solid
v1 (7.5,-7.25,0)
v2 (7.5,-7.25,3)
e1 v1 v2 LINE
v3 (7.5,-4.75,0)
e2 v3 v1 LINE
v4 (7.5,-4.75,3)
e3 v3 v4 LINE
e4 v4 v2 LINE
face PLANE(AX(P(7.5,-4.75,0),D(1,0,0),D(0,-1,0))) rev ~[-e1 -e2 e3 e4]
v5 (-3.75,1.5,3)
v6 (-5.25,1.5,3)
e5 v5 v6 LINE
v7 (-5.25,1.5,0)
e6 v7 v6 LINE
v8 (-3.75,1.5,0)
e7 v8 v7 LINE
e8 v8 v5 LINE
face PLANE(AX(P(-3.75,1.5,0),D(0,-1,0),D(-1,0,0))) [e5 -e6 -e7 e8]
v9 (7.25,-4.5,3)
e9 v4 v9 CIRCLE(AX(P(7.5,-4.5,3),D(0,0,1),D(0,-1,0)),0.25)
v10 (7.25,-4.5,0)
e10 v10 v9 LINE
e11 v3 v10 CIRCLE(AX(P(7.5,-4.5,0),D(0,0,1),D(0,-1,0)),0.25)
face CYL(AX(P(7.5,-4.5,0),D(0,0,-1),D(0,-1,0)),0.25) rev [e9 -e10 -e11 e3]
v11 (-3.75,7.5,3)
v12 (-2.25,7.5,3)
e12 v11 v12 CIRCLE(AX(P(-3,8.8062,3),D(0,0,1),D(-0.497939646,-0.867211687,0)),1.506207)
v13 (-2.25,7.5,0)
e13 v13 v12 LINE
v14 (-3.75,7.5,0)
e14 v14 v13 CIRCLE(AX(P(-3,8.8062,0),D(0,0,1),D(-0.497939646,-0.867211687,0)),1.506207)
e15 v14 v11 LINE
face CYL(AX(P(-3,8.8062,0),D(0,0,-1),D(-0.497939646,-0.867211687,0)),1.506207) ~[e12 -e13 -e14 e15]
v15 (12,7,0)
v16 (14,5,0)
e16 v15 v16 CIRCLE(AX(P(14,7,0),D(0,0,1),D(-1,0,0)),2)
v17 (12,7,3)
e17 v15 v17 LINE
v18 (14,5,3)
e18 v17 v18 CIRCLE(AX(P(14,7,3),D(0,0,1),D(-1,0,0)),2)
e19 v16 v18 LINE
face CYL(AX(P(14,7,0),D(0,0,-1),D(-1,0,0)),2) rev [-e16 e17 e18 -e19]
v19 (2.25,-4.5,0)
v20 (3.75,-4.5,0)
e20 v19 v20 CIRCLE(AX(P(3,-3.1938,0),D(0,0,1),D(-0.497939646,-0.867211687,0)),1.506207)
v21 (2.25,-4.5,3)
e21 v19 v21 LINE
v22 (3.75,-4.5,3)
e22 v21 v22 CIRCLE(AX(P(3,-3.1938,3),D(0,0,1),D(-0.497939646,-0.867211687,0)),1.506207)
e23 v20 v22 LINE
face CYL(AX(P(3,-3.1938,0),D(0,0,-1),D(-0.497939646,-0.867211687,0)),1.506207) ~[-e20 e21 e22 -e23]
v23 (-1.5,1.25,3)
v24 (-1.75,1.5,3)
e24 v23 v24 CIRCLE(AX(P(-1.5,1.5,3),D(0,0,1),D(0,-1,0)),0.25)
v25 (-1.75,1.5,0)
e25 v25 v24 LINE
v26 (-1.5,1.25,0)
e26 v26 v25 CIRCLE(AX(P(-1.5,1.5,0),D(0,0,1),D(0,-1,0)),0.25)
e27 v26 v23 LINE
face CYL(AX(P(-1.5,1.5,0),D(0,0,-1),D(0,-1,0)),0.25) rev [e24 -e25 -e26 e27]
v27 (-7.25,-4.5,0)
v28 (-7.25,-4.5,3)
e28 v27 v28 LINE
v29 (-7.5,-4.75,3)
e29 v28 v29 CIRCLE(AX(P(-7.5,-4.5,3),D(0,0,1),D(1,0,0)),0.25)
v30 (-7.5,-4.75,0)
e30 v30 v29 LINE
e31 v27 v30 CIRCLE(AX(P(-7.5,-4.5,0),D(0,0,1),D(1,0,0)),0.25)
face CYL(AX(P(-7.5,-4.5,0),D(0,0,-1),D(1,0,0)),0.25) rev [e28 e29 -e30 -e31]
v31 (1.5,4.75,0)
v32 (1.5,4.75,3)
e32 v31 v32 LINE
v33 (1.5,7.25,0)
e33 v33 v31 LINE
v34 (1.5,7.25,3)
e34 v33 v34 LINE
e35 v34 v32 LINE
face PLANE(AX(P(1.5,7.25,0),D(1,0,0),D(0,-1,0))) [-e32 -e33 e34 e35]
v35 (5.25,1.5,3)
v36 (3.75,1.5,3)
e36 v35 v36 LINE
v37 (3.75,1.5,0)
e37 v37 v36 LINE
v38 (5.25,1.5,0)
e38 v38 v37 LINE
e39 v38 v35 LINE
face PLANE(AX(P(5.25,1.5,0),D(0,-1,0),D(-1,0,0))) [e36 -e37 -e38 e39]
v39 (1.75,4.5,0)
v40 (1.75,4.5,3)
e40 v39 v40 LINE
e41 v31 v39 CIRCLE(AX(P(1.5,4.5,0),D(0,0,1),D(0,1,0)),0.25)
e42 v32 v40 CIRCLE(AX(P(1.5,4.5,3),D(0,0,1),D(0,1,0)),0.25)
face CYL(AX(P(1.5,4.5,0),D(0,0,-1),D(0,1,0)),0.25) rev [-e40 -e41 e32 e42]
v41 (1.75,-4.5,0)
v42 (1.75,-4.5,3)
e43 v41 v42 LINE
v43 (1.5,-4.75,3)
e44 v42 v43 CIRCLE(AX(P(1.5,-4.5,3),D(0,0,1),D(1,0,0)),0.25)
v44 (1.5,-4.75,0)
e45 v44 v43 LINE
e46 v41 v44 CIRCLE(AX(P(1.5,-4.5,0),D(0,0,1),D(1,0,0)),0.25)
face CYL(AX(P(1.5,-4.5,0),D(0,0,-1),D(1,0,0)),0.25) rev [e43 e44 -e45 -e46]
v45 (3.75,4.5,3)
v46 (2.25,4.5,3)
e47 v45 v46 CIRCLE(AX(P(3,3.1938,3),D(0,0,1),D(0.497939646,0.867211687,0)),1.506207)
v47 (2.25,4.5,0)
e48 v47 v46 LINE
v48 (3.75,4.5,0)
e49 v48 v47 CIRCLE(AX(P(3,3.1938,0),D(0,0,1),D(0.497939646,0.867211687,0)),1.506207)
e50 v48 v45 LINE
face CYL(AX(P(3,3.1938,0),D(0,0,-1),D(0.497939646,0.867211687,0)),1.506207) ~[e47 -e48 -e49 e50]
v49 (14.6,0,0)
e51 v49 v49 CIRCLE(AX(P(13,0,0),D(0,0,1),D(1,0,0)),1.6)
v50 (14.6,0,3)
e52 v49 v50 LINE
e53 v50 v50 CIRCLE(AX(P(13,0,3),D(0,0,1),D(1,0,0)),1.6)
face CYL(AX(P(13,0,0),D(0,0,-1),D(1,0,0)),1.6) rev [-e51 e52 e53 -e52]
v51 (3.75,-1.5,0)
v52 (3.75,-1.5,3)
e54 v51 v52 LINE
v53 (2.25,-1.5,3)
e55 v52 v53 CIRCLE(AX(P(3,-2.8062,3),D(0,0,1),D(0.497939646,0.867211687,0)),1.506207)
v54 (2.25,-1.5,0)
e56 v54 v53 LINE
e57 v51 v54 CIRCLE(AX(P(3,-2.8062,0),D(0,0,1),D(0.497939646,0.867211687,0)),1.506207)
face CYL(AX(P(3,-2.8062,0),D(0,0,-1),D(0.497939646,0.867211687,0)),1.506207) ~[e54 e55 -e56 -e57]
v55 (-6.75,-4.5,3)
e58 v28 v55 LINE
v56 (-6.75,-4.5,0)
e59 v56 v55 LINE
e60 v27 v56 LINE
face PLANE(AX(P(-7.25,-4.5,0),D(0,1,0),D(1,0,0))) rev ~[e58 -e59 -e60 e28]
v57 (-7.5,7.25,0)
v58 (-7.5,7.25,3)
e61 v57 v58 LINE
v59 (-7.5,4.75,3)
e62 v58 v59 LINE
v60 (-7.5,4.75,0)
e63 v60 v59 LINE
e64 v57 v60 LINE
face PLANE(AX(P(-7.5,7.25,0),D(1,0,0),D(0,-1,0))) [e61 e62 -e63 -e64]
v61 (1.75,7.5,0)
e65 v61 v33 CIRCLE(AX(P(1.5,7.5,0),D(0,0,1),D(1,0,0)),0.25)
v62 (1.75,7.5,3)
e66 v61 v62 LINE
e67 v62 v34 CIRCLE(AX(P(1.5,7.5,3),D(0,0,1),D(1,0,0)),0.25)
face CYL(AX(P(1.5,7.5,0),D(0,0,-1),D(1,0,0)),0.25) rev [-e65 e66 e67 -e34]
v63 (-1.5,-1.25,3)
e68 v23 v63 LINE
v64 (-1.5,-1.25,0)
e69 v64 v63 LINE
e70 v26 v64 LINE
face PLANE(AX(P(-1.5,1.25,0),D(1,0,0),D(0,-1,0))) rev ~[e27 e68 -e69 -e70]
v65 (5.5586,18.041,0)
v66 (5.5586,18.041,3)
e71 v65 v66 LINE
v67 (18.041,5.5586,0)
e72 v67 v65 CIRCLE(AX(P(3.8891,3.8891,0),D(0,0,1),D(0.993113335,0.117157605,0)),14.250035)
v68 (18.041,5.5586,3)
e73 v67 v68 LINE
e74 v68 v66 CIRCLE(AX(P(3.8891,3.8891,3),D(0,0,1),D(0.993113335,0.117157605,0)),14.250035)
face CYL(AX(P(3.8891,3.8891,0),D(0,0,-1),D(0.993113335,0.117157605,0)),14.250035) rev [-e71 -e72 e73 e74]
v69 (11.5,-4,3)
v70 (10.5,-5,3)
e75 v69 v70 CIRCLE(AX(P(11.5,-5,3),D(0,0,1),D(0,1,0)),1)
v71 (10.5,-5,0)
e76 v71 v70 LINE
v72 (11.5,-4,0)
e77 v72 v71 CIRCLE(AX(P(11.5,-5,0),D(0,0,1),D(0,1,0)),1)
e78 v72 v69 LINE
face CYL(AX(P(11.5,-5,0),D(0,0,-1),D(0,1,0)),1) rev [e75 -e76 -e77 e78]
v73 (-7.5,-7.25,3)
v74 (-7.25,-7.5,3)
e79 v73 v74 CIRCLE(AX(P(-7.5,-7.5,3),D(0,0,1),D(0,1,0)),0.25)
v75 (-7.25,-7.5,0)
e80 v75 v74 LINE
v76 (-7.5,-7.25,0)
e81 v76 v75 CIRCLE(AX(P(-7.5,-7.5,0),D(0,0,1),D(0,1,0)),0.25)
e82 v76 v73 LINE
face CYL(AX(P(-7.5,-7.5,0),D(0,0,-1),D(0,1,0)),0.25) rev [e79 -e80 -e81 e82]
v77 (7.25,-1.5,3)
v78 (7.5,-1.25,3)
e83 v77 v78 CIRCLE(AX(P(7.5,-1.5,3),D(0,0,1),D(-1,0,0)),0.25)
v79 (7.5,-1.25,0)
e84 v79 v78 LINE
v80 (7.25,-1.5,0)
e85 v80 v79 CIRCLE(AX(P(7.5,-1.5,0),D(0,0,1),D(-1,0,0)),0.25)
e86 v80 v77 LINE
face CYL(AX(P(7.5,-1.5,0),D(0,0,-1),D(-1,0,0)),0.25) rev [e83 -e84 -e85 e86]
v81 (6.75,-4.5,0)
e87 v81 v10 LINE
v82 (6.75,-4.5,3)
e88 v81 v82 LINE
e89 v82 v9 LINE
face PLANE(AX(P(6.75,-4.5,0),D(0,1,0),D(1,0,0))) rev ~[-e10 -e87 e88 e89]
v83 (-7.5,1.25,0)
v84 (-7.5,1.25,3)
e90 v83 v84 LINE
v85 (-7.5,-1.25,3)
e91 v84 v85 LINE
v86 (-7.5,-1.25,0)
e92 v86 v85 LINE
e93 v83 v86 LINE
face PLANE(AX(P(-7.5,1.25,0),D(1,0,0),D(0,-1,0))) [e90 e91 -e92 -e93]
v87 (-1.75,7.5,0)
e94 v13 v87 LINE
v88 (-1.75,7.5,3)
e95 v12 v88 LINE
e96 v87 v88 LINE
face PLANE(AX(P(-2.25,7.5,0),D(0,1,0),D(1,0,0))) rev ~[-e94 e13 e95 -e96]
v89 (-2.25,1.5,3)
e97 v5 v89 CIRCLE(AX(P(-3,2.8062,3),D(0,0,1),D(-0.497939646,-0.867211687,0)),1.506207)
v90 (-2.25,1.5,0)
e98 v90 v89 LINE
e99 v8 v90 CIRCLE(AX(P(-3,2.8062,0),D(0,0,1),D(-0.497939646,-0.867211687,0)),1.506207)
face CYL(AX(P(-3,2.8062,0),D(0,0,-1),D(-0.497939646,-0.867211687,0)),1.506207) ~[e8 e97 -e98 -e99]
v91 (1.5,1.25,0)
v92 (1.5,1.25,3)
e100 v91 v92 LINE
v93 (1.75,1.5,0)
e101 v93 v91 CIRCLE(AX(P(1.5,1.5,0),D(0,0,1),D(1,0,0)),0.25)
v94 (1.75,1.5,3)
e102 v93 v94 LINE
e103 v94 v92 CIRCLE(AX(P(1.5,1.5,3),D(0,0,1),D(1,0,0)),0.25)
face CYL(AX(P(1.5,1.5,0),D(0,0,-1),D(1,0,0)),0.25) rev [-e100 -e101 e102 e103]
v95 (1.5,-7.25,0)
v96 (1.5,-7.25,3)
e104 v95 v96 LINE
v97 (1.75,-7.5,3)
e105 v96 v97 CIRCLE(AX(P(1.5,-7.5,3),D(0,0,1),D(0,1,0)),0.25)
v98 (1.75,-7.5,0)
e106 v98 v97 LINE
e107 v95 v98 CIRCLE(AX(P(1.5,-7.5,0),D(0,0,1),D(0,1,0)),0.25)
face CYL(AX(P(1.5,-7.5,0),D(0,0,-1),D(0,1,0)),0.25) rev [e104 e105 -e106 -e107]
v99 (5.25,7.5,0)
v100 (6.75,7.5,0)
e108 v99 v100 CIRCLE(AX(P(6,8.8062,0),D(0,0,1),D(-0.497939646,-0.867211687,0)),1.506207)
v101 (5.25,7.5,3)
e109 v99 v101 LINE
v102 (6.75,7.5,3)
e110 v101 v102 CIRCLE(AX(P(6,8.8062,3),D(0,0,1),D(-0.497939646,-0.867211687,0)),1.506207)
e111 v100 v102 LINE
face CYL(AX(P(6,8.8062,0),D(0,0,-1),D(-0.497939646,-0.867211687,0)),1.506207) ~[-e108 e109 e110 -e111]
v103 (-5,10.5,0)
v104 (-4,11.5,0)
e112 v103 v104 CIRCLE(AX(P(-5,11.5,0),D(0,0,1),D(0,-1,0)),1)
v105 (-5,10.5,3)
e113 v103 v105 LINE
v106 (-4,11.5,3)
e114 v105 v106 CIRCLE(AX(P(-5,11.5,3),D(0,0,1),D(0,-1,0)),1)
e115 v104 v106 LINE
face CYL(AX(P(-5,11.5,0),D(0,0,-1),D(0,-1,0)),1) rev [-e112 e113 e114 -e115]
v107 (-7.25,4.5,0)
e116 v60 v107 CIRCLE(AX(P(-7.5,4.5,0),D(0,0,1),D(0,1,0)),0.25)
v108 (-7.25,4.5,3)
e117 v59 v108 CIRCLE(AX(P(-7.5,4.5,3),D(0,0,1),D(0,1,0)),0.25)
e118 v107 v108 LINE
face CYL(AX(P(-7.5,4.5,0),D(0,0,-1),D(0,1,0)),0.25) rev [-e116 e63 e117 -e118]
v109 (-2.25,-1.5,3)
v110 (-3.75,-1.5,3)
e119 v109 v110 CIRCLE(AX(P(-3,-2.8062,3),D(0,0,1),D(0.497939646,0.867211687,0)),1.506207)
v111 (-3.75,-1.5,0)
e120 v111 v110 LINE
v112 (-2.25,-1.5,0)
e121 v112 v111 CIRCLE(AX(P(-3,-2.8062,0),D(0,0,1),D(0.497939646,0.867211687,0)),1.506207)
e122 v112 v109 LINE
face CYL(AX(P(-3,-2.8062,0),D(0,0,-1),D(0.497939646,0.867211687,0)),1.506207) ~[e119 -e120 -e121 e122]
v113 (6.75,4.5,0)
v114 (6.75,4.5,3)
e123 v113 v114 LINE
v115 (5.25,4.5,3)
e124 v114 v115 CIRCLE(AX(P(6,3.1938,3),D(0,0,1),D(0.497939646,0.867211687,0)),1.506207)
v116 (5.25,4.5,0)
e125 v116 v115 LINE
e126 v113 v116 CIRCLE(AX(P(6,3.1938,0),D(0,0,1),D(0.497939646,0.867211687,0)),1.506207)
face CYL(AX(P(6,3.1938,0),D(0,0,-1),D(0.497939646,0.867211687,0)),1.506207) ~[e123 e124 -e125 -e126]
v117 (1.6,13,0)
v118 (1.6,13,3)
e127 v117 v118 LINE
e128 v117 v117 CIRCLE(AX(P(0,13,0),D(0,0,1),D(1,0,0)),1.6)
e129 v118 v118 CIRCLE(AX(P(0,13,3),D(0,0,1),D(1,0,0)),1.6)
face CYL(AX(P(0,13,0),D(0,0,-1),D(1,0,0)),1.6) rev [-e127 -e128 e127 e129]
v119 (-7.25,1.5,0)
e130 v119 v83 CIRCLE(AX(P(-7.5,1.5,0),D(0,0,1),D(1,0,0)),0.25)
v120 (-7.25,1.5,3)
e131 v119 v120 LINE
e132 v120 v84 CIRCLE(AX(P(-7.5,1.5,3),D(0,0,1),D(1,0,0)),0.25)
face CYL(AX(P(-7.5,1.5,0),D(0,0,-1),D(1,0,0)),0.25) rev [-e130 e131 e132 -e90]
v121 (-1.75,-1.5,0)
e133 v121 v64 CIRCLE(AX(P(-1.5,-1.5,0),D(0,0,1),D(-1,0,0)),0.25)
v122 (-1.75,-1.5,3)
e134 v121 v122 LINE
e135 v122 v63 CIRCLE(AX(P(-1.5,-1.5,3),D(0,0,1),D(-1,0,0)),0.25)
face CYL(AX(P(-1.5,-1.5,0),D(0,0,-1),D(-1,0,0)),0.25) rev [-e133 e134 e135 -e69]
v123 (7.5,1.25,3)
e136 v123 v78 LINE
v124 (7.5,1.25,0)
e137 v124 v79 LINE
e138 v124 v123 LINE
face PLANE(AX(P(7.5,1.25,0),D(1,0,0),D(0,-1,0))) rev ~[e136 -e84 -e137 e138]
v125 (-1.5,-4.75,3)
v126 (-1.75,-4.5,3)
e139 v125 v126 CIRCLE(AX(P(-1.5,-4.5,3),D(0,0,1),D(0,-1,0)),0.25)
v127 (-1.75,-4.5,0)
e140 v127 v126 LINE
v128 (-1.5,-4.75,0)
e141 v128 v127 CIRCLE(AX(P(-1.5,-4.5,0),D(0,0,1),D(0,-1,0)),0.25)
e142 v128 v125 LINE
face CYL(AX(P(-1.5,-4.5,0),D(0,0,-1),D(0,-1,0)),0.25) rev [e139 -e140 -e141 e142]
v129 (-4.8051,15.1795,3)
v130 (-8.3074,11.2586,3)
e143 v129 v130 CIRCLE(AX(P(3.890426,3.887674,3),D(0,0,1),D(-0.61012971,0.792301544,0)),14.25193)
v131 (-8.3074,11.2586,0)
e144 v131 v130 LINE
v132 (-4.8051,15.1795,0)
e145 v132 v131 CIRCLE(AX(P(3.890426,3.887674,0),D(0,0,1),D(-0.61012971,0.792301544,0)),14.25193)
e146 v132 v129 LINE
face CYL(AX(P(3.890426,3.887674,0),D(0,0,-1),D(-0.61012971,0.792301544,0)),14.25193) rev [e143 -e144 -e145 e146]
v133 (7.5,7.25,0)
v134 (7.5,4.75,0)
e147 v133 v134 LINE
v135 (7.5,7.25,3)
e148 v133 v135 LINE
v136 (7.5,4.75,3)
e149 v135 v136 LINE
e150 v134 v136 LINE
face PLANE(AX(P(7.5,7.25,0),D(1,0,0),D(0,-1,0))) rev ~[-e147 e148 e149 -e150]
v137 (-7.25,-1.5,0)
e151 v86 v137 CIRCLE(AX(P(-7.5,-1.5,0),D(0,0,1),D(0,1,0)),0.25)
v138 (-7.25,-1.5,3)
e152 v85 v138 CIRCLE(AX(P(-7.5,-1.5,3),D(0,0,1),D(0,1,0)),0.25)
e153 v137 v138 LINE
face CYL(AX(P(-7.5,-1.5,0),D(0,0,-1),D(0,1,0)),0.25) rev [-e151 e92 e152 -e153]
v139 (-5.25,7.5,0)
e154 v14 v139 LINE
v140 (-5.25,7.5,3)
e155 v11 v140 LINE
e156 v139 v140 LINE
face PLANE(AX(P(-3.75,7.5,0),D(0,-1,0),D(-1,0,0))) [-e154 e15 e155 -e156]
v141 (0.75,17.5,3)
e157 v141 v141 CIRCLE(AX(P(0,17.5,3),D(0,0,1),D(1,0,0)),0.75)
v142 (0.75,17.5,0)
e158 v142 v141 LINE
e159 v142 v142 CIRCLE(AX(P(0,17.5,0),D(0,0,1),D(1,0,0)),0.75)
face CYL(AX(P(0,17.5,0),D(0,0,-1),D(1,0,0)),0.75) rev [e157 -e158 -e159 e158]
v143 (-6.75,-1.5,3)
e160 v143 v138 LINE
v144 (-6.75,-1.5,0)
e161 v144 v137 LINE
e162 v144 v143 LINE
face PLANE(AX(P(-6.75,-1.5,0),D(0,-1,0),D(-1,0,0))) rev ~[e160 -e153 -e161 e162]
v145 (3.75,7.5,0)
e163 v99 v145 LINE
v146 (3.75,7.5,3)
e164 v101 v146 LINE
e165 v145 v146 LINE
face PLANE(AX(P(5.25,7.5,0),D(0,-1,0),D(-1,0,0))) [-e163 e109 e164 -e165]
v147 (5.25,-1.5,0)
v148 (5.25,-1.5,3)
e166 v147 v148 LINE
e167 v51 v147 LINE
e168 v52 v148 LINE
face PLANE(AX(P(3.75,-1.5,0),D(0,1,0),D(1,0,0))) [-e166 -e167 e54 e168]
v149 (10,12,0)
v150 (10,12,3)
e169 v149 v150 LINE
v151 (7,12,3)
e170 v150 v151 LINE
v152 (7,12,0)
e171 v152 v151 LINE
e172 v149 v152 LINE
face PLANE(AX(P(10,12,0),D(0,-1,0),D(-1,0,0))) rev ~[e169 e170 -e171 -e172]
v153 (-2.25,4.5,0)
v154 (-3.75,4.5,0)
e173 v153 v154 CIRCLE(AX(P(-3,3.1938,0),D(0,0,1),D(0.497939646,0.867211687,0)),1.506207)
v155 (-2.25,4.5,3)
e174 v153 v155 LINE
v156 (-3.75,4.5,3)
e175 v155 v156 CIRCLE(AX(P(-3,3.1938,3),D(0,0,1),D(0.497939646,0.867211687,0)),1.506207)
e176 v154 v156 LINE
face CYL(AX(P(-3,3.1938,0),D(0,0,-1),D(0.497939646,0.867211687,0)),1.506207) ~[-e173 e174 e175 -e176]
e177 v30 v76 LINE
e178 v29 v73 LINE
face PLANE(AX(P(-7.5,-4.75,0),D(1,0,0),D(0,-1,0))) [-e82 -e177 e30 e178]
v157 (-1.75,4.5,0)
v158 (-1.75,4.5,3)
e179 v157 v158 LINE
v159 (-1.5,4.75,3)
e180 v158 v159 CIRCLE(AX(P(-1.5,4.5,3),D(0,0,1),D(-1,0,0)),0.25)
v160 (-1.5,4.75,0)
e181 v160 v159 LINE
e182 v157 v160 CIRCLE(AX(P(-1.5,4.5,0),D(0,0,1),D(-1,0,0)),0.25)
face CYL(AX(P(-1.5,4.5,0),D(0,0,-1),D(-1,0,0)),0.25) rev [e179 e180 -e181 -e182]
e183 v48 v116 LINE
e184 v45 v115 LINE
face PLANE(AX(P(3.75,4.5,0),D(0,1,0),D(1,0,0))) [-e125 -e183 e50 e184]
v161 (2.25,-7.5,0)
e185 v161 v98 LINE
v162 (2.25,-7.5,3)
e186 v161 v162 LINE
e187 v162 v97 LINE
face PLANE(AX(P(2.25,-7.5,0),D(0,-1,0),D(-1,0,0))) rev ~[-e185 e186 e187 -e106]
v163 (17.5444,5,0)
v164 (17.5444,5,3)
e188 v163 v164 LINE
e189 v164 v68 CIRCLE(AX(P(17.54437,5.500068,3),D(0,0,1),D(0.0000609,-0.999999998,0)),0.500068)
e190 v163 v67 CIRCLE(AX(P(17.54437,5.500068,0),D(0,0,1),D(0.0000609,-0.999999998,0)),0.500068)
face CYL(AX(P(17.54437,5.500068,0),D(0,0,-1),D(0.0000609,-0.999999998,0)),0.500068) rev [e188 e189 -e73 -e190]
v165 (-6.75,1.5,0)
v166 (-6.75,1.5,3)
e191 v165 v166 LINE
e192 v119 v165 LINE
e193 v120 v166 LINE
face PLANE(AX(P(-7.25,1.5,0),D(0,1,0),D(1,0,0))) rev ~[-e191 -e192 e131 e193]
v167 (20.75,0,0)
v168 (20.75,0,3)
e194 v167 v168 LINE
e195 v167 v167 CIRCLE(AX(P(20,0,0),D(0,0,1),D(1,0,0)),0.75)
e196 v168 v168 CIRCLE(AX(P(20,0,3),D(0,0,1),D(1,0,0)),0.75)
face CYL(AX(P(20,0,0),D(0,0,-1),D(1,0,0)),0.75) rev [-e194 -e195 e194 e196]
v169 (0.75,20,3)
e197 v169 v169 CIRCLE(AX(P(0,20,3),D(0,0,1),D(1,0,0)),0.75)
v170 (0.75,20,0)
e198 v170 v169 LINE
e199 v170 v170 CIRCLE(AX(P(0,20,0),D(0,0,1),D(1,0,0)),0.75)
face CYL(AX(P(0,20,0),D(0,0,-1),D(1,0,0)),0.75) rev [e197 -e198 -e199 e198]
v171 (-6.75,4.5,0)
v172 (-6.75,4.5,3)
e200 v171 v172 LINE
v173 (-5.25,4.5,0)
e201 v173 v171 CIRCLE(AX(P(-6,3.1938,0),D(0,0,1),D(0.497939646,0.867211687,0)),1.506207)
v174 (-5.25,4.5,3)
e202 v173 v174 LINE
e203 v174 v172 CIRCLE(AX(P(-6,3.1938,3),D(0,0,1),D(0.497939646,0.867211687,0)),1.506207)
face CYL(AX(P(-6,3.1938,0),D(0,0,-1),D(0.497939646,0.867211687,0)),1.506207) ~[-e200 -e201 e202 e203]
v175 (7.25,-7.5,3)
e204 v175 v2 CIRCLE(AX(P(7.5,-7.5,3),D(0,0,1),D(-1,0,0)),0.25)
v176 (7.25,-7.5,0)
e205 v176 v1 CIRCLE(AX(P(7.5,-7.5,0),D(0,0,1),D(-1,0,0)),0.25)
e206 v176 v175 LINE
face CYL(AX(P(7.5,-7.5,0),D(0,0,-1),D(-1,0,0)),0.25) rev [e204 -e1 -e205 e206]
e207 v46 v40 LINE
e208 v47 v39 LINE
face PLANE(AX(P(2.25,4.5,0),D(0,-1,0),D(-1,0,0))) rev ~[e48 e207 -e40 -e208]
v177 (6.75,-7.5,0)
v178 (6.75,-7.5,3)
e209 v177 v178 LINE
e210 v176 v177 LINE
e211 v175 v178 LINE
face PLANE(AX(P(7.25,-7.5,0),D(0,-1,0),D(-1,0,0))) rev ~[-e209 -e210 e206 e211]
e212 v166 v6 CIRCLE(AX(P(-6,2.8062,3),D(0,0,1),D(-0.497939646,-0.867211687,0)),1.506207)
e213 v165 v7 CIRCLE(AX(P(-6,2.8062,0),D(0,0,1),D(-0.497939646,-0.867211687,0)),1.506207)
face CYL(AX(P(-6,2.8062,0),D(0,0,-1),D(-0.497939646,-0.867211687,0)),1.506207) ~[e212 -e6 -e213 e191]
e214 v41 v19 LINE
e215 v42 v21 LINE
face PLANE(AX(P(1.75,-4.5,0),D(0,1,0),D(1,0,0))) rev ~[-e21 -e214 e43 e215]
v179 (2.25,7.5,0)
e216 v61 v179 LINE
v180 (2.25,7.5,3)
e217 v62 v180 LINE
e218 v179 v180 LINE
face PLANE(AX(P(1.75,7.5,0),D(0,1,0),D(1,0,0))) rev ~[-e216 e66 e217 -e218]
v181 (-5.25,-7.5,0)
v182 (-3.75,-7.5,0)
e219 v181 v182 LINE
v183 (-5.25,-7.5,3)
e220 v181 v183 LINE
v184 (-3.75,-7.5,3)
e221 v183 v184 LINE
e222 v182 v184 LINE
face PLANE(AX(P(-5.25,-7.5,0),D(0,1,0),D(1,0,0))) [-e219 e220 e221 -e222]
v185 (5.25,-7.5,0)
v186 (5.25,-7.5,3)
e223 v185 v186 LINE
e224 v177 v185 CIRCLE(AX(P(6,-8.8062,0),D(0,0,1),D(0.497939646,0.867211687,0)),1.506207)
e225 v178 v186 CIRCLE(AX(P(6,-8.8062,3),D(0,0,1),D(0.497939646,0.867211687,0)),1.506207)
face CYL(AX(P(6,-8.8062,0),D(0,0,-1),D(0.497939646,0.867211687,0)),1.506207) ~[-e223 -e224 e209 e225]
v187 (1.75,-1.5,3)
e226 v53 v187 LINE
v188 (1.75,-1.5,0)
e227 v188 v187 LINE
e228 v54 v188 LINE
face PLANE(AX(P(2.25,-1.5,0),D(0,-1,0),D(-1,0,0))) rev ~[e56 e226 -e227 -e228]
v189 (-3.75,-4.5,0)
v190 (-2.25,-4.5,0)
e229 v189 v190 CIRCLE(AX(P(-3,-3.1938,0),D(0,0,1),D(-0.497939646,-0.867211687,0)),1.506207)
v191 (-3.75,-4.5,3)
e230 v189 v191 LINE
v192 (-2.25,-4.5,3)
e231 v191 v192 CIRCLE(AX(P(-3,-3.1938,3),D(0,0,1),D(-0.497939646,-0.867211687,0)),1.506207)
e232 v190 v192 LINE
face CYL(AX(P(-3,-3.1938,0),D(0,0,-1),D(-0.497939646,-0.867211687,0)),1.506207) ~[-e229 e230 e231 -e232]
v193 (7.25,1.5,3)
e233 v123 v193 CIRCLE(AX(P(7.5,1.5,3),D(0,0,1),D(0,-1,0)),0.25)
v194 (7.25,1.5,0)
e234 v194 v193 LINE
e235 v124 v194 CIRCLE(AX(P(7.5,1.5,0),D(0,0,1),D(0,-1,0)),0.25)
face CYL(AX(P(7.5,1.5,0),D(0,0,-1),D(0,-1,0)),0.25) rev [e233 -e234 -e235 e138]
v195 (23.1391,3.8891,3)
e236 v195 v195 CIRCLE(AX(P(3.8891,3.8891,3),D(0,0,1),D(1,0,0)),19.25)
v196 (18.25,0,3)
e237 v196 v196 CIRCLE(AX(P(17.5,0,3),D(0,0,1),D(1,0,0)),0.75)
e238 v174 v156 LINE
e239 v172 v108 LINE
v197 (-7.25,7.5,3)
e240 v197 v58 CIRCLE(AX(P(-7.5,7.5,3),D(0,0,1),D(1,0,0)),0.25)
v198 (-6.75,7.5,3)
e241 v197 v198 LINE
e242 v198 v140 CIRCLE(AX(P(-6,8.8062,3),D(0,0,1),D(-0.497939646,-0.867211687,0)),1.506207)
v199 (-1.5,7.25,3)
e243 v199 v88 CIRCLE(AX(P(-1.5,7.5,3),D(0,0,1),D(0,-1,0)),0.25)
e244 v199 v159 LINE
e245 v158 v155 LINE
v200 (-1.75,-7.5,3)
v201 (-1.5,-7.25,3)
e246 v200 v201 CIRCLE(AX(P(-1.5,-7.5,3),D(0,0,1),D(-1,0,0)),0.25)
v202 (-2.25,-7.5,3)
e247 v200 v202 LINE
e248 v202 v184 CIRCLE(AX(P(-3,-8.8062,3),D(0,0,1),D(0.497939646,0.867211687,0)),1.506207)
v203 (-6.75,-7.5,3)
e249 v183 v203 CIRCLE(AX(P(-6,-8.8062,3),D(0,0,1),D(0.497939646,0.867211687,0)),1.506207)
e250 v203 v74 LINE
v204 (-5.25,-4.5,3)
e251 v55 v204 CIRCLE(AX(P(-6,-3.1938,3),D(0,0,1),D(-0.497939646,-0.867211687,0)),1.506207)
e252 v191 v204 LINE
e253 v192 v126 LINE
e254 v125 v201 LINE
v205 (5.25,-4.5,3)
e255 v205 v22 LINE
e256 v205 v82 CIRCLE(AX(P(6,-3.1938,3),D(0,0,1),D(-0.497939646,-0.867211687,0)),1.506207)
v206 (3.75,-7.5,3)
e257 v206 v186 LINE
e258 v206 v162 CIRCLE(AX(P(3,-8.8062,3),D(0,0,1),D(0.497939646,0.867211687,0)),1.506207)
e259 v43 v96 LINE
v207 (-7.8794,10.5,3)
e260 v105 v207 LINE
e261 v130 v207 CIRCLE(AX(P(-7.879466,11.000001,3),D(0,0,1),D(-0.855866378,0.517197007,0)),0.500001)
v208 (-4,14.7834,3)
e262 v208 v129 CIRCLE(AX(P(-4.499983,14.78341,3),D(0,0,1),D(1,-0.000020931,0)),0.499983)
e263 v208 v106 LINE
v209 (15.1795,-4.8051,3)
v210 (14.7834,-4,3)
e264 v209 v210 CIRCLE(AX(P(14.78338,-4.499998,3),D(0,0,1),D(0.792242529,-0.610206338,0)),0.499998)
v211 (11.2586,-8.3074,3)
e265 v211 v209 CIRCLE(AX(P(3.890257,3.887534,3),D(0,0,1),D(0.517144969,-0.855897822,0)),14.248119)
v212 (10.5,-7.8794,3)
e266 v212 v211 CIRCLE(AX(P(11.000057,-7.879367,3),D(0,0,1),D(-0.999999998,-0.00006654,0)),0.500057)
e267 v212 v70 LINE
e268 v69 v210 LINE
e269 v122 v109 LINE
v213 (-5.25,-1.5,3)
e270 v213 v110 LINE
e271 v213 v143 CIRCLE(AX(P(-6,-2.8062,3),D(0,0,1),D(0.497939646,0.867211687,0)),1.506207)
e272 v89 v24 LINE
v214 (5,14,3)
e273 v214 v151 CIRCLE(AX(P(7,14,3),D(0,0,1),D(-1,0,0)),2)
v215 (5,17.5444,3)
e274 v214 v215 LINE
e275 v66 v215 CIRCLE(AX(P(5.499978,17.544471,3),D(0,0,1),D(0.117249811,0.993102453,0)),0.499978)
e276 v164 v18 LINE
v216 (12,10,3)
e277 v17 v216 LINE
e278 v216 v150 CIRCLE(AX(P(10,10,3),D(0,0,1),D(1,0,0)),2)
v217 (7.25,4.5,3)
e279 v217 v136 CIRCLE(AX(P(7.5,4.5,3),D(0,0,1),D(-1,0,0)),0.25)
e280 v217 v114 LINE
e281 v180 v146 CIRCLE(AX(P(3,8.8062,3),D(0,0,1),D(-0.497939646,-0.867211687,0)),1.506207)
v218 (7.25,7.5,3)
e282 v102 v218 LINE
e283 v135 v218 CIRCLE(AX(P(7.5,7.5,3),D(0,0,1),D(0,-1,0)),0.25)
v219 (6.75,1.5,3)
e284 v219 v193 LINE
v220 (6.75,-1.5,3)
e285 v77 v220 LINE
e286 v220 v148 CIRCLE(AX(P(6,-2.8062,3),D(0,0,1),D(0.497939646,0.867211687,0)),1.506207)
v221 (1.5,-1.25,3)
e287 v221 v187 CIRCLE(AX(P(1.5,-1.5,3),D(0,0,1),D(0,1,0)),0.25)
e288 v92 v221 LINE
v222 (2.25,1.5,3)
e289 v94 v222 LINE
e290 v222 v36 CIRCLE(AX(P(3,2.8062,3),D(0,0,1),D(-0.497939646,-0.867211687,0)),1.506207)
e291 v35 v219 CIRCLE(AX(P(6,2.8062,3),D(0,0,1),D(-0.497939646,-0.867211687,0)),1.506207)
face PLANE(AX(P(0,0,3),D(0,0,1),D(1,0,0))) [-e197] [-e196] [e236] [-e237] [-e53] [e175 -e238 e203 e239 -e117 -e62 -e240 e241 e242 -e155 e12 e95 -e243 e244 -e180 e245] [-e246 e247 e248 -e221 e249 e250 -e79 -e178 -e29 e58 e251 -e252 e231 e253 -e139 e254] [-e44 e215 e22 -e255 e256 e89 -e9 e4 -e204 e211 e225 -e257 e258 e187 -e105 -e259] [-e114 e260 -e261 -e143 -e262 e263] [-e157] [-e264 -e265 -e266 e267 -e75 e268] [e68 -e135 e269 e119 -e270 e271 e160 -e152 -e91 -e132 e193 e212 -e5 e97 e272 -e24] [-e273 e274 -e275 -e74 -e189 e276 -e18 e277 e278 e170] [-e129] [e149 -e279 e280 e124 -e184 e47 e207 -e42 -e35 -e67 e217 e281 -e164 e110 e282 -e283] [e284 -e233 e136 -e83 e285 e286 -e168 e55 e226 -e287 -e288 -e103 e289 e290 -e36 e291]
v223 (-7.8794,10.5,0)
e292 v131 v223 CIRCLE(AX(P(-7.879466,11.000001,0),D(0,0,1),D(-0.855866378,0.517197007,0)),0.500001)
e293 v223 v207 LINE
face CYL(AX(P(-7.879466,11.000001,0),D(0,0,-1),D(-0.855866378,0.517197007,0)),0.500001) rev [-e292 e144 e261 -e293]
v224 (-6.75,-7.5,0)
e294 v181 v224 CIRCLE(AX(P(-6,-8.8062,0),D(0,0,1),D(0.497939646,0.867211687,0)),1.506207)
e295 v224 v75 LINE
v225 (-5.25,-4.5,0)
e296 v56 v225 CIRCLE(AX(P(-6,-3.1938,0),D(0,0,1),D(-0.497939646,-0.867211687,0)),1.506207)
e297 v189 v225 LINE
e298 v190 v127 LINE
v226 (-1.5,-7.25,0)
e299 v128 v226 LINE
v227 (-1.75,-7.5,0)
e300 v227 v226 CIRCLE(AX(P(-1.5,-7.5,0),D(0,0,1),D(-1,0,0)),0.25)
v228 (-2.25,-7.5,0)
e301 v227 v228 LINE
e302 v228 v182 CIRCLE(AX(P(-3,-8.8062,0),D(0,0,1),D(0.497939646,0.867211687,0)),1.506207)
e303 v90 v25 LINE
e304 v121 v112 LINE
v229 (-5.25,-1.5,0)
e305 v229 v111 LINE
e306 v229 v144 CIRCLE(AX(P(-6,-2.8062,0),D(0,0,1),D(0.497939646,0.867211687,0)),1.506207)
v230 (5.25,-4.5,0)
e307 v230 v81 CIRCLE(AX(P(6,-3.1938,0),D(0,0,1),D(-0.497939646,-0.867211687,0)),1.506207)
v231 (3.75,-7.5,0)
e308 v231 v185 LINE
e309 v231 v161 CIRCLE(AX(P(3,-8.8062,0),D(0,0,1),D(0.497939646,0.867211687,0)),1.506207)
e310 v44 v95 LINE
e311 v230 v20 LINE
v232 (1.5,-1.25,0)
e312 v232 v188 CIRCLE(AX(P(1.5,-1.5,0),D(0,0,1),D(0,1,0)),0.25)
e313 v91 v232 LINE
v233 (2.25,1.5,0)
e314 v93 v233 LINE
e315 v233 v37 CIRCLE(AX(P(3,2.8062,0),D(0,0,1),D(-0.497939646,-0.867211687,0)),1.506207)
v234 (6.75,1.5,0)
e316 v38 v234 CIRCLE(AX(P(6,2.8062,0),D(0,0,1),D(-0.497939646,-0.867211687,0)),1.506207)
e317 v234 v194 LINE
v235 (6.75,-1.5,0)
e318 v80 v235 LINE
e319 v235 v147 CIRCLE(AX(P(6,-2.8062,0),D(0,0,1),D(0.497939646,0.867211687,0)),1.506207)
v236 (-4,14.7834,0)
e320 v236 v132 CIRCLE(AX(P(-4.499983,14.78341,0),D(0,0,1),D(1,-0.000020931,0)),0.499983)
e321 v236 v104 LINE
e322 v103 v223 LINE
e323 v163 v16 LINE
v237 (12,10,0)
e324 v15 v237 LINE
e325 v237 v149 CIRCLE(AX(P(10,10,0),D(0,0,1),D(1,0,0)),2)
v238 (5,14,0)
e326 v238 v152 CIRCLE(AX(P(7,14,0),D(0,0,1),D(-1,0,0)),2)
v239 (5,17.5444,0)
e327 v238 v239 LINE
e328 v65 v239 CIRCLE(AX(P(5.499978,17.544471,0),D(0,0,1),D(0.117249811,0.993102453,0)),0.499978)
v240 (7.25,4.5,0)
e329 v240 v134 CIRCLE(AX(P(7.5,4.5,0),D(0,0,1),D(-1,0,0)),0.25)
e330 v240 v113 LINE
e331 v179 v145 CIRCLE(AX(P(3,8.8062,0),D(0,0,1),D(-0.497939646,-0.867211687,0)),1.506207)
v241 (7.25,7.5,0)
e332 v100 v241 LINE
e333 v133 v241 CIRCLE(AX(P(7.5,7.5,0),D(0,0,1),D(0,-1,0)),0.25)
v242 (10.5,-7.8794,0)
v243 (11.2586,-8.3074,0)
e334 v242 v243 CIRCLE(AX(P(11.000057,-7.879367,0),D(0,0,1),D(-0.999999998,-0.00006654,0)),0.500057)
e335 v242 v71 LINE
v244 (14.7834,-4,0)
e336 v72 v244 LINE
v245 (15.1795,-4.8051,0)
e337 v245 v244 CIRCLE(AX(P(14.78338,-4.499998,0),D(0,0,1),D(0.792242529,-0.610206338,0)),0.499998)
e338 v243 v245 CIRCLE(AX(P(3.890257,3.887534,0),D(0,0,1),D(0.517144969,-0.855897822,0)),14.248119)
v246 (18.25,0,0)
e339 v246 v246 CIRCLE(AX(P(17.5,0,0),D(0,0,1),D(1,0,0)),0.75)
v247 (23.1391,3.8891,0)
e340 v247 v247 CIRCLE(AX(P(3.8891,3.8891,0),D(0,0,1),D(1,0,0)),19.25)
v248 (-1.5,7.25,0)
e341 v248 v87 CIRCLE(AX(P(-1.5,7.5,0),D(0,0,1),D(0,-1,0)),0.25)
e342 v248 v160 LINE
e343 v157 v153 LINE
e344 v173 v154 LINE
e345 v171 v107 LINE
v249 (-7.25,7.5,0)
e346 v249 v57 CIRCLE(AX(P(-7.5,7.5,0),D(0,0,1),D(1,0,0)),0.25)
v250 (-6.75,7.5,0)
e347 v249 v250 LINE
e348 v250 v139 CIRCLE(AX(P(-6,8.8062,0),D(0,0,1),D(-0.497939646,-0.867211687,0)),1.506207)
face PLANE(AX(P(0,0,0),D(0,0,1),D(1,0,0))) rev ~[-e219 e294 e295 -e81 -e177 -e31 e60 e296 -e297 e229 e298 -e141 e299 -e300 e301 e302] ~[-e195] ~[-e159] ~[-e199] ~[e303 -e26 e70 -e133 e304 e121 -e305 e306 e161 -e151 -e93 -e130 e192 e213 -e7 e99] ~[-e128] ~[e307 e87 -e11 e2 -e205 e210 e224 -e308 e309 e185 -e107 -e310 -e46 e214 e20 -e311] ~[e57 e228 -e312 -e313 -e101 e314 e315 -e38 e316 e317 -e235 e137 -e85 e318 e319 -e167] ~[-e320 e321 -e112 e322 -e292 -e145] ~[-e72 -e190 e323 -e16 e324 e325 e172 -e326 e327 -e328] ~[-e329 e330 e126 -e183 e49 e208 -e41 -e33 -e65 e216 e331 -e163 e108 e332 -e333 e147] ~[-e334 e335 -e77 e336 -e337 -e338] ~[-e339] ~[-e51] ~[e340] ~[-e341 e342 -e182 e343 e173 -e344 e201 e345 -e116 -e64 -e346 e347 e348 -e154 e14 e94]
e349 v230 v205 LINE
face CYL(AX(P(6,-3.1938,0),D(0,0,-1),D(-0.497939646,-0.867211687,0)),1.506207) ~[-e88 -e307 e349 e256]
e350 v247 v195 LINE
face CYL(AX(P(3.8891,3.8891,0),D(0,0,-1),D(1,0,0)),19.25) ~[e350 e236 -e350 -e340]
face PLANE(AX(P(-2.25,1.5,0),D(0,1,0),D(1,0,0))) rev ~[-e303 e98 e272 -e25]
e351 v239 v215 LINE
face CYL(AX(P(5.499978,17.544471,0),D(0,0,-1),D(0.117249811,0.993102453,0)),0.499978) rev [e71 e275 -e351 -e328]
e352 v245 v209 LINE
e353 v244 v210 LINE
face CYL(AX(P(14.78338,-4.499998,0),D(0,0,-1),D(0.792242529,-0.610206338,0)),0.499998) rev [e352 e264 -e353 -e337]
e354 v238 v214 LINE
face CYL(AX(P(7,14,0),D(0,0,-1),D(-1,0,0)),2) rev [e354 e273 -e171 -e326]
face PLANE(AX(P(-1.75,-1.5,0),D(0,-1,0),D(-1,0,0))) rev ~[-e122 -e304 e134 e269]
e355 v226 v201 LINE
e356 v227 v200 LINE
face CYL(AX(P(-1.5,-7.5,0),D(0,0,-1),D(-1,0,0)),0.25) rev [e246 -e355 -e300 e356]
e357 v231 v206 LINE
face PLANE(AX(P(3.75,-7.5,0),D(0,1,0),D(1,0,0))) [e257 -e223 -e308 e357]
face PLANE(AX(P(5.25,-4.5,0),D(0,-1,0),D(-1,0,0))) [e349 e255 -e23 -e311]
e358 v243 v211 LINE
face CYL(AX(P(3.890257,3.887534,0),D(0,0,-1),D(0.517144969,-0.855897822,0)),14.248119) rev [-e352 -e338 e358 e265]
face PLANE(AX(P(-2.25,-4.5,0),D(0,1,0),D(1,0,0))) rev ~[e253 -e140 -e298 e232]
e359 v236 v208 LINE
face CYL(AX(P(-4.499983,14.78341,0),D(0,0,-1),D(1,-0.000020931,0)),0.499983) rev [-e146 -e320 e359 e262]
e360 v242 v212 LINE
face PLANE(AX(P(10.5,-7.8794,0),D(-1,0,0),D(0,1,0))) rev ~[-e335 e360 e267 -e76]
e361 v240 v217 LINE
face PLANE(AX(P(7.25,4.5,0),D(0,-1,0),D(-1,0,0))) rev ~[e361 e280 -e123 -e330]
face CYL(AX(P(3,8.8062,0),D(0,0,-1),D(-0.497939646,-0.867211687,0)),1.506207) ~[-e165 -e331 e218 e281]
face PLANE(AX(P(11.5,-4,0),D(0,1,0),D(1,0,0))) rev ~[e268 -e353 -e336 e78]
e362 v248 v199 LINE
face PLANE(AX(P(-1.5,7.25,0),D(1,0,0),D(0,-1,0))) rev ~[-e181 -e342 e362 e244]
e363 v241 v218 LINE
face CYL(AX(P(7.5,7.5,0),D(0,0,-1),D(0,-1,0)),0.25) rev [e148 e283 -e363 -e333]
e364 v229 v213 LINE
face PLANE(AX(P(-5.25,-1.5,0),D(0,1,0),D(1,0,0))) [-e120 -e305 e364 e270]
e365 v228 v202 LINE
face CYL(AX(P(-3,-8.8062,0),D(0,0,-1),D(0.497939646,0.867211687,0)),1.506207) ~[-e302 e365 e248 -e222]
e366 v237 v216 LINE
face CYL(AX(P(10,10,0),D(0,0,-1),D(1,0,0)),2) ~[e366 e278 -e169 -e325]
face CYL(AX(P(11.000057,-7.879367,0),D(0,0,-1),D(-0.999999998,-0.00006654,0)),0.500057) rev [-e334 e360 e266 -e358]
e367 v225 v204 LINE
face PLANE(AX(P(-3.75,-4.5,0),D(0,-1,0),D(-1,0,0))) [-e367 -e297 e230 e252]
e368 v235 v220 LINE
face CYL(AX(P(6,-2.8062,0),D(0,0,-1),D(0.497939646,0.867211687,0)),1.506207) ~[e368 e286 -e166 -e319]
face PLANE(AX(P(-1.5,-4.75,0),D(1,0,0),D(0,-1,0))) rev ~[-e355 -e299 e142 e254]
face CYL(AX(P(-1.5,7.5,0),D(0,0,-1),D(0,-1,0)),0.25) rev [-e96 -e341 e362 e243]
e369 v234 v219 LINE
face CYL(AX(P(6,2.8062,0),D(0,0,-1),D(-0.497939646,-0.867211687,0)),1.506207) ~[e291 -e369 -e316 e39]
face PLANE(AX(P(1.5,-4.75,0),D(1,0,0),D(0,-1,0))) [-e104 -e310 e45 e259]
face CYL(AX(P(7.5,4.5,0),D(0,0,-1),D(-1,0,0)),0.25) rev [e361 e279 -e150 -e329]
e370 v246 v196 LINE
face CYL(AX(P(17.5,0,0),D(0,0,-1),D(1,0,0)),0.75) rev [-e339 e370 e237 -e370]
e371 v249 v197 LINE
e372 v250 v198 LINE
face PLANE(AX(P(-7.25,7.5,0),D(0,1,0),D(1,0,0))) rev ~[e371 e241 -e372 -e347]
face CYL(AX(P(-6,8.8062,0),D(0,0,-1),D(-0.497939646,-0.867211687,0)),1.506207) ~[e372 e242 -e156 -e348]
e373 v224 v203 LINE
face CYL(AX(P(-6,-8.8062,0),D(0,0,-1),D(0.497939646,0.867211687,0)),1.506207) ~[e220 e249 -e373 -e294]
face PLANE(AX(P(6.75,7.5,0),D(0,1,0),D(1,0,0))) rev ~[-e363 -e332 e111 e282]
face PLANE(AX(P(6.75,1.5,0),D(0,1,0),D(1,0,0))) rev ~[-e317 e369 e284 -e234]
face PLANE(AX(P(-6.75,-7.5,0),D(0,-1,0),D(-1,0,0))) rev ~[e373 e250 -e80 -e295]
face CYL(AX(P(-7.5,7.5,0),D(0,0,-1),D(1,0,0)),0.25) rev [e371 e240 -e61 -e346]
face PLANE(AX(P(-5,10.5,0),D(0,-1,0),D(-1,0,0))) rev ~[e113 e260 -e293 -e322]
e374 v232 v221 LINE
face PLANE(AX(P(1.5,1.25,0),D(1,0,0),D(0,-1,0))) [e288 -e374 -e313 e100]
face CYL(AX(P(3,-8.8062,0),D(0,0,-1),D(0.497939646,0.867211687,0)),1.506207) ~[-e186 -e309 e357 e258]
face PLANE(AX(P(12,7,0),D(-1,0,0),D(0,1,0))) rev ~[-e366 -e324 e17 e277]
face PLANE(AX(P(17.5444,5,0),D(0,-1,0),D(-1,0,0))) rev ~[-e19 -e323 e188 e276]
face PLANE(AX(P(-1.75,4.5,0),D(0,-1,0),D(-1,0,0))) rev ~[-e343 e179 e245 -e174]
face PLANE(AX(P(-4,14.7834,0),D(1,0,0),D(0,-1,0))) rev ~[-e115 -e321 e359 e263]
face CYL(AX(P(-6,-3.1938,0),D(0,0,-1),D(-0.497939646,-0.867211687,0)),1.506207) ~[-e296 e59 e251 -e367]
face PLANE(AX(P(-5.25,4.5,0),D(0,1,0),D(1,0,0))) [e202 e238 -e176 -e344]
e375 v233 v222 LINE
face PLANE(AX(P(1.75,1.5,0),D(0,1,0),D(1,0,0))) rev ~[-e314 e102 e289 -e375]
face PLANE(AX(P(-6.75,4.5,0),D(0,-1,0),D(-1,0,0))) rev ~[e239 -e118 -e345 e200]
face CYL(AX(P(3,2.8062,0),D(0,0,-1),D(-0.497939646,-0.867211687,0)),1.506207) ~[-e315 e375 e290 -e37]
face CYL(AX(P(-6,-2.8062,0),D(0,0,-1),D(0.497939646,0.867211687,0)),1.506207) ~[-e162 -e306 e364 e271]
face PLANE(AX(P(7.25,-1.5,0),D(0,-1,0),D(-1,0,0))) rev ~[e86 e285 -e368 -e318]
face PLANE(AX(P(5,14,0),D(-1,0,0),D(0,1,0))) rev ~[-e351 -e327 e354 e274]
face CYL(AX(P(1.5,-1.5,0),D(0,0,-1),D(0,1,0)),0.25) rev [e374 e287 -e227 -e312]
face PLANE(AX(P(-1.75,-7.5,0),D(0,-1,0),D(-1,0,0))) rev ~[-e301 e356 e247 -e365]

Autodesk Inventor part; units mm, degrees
ref_plane "YZ Plane" through (0, 0, 0) normal (1, 0, 0) x (0, 1, 0)
ref_plane "XZ Plane" through (0, 0, 0) normal (0, 1, 0) x (-1, 0, 0)
ref_plane "XY Plane" through (0, 0, 0) normal (0, 0, 1) x (1, 0, 0)
sketch "Sketch1" plane through (0, 0, 0) normal (0, 0, 1) x (1, 0, 0)
  circle A0 centre (0, 13) radius 1.6
  circle A1 centre (13, 0) radius 1.6
  circle A2 centre (0, 17.5) radius 0.75
  circle A3 centre (17.5, 0) radius 0.75
  circle A4 centre (20, 0) radius 0.75
  circle A5 centre (0, 20) radius 0.75
  arc A6 (-7.25, 7.5) -> (-7.5, 7.25) centre (-7.5, 7.5) ccw
  arc A7 (-6.75, 7.5) -> (-5.25, 7.5) centre (-6, 8.8062) ccw
  arc A8 (-1.5, 7.25) -> (-1.75, 7.5) centre (-1.5, 7.5) ccw
  arc A9 (-3.75, 7.5) -> (-2.25, 7.5) centre (-3, 8.8062) ccw
  arc A10 (-7.5, 4.75) -> (-7.25, 4.5) centre (-7.5, 4.5) ccw
  arc A11 (-5.25, 4.5) -> (-6.75, 4.5) centre (-6, 3.1938) ccw
  arc A12 (-2.25, 4.5) -> (-3.75, 4.5) centre (-3, 3.1938) ccw
  arc A13 (-1.75, 4.5) -> (-1.5, 4.75) centre (-1.5, 4.5) ccw
  line L0 (-1.5, 7.25) -> (-1.5, 4.75)
  line L1 (-1.75, 4.5) -> (-2.25, 4.5)
  line L2 (-2.25, 7.5) -> (-1.75, 7.5)
  line L3 (-3.75, 7.5) -> (-5.25, 7.5)
  line L4 (-5.25, 4.5) -> (-3.75, 4.5)
  line L5 (-7.25, 7.5) -> (-6.75, 7.5)
  line L6 (-7.5, 7.25) -> (-7.5, 4.75)
  line L7 (-6.75, 4.5) -> (-7.25, 4.5)
  arc A14 (1.75, 7.5) -> (1.5, 7.25) centre (1.5, 7.5) ccw
  arc A15 (2.25, 7.5) -> (3.75, 7.5) centre (3, 8.8062) ccw
  arc A16 (5.25, 7.5) -> (6.75, 7.5) centre (6, 8.8062) ccw
  arc A17 (7.5, 7.25) -> (7.25, 7.5) centre (7.5, 7.5) ccw
  arc A18 (6.75, 4.5) -> (5.25, 4.5) centre (6, 3.1938) ccw
  arc A19 (7.25, 4.5) -> (7.5, 4.75) centre (7.5, 4.5) ccw
  arc A20 (3.75, 4.5) -> (2.25, 4.5) centre (3, 3.1938) ccw
  arc A21 (1.5, 4.75) -> (1.75, 4.5) centre (1.5, 4.5) ccw
  line L8 (7.5, 7.25) -> (7.5, 4.75)
  line L9 (7.25, 4.5) -> (6.75, 4.5)
  line L10 (6.75, 7.5) -> (7.25, 7.5)
  line L11 (5.25, 7.5) -> (3.75, 7.5)
  line L12 (3.75, 4.5) -> (5.25, 4.5)
  line L13 (1.75, 7.5) -> (2.25, 7.5)
  line L14 (1.5, 7.25) -> (1.5, 4.75)
  line L15 (2.25, 4.5) -> (1.75, 4.5)
  arc A22 (-7.25, 1.5) -> (-7.5, 1.25) centre (-7.5, 1.5) ccw
  arc A23 (-6.75, 1.5) -> (-5.25, 1.5) centre (-6, 2.8062) ccw
  arc A24 (-3.75, 1.5) -> (-2.25, 1.5) centre (-3, 2.8062) ccw
  arc A25 (-1.5, 1.25) -> (-1.75, 1.5) centre (-1.5, 1.5) ccw
  arc A26 (-2.25, -1.5) -> (-3.75, -1.5) centre (-3, -2.8062) ccw
  arc A27 (-1.75, -1.5) -> (-1.5, -1.25) centre (-1.5, -1.5) ccw
  arc A28 (-5.25, -1.5) -> (-6.75, -1.5) centre (-6, -2.8062) ccw
  arc A29 (-7.5, -1.25) -> (-7.25, -1.5) centre (-7.5, -1.5) ccw
  line L16 (-1.5, 1.25) -> (-1.5, -1.25)
  line L17 (-1.75, -1.5) -> (-2.25, -1.5)
  line L18 (-2.25, 1.5) -> (-1.75, 1.5)
  line L19 (-3.75, 1.5) -> (-5.25, 1.5)
  line L20 (-5.25, -1.5) -> (-3.75, -1.5)
  line L21 (-7.25, 1.5) -> (-6.75, 1.5)
  line L22 (-7.5, 1.25) -> (-7.5, -1.25)
  line L23 (-6.75, -1.5) -> (-7.25, -1.5)
  arc A30 (1.75, 1.5) -> (1.5, 1.25) centre (1.5, 1.5) ccw
  arc A31 (2.25, 1.5) -> (3.75, 1.5) centre (3, 2.8062) ccw
  arc A32 (5.25, 1.5) -> (6.75, 1.5) centre (6, 2.8062) ccw
  arc A33 (7.5, 1.25) -> (7.25, 1.5) centre (7.5, 1.5) ccw
  arc A34 (6.75, -1.5) -> (5.25, -1.5) centre (6, -2.8062) ccw
  arc A35 (7.25, -1.5) -> (7.5, -1.25) centre (7.5, -1.5) ccw
  arc A36 (3.75, -1.5) -> (2.25, -1.5) centre (3, -2.8062) ccw
  arc A37 (1.5, -1.25) -> (1.75, -1.5) centre (1.5, -1.5) ccw
  line L24 (7.5, 1.25) -> (7.5, -1.25)
  line L25 (7.25, -1.5) -> (6.75, -1.5)
  line L26 (6.75, 1.5) -> (7.25, 1.5)
  line L27 (5.25, 1.5) -> (3.75, 1.5)
  line L28 (3.75, -1.5) -> (5.25, -1.5)
  line L29 (1.75, 1.5) -> (2.25, 1.5)
  line L30 (1.5, 1.25) -> (1.5, -1.25)
  line L31 (2.25, -1.5) -> (1.75, -1.5)
  arc A38 (-7.25, -4.5) -> (-7.5, -4.75) centre (-7.5, -4.5) ccw
  arc A39 (-6.75, -4.5) -> (-5.25, -4.5) centre (-6, -3.1938) ccw
  arc A40 (-3.75, -4.5) -> (-2.25, -4.5) centre (-3, -3.1938) ccw
  arc A41 (-1.5, -4.75) -> (-1.75, -4.5) centre (-1.5, -4.5) ccw
  arc A42 (-2.25, -7.5) -> (-3.75, -7.5) centre (-3, -8.8062) ccw
  arc A43 (-1.75, -7.5) -> (-1.5, -7.25) centre (-1.5, -7.5) ccw
  arc A44 (-5.25, -7.5) -> (-6.75, -7.5) centre (-6, -8.8062) ccw
  arc A45 (-7.5, -7.25) -> (-7.25, -7.5) centre (-7.5, -7.5) ccw
  line L32 (-1.5, -4.75) -> (-1.5, -7.25)
  line L33 (-1.75, -7.5) -> (-2.25, -7.5)
  line L34 (-2.25, -4.5) -> (-1.75, -4.5)
  line L35 (-3.75, -4.5) -> (-5.25, -4.5)
  line L36 (-5.25, -7.5) -> (-3.75, -7.5)
  line L37 (-7.25, -4.5) -> (-6.75, -4.5)
  line L38 (-7.5, -4.75) -> (-7.5, -7.25)
  line L39 (-6.75, -7.5) -> (-7.25, -7.5)
  arc A46 (1.75, -4.5) -> (1.5, -4.75) centre (1.5, -4.5) ccw
  arc A47 (2.25, -4.5) -> (3.75, -4.5) centre (3, -3.1938) ccw
  arc A48 (5.25, -4.5) -> (6.75, -4.5) centre (6, -3.1938) ccw
  arc A49 (7.5, -4.75) -> (7.25, -4.5) centre (7.5, -4.5) ccw
  arc A50 (6.75, -7.5) -> (5.25, -7.5) centre (6, -8.8062) ccw
  arc A51 (7.25, -7.5) -> (7.5, -7.25) centre (7.5, -7.5) ccw
  arc A52 (3.75, -7.5) -> (2.25, -7.5) centre (3, -8.8062) ccw
  arc A53 (1.5, -7.25) -> (1.75, -7.5) centre (1.5, -7.5) ccw
  line L40 (7.5, -4.75) -> (7.5, -7.25)
  line L41 (7.25, -7.5) -> (6.75, -7.5)
  line L42 (6.75, -4.5) -> (7.25, -4.5)
  line L43 (5.25, -4.5) -> (3.75, -4.5)
  line L44 (3.75, -7.5) -> (5.25, -7.5)
  line L45 (1.75, -4.5) -> (2.25, -4.5)
  line L46 (1.5, -4.75) -> (1.5, -7.25)
  line L47 (2.25, -7.5) -> (1.75, -7.5)
  circle A54 centre (3.8891, 3.8891) radius 19.25
  line L48 (5, 14) -> (5, 17.5444)
  line L49 (17.5444, 5) -> (14, 5)
  line L50 (12, 7) -> (12, 10)
  arc A55 (18.041, 5.5586) -> (5.5586, 18.041) centre (3.8891, 3.8891) ccw
  line L51 (10, 12) -> (7, 12)
  line L52 (11.5, -4) -> (14.7834, -4)
  line L53 (10.5, -7.8794) -> (10.5, -5)
  line L54 (-4, 14.7834) -> (-4, 11.5)
  line L55 (-5, 10.5) -> (-7.8794, 10.5)
  arc A56 (11.2586, -8.3074) -> (15.1795, -4.8051) centre (3.8891, 3.8891) ccw
  arc A57 (-4.8051, 15.1795) -> (-8.3074, 11.2586) centre (3.8891, 3.8891) ccw
  arc A58 (12, 10) -> (10, 12) centre (10, 10) ccw
  arc A59 (12, 7) -> (14, 5) centre (14, 7) ccw
  arc A60 (5, 14) -> (7, 12) centre (7, 14) ccw
  arc A61 (-5, 10.5) -> (-4, 11.5) centre (-5, 11.5) ccw
  arc A62 (11.5, -4) -> (10.5, -5) centre (11.5, -5) ccw
  arc A63 (-8.3074, 11.2586) -> (-7.8794, 10.5) centre (-7.8794, 11) ccw
  arc A64 (-4, 14.7834) -> (-4.8051, 15.1795) centre (-4.5, 14.7834) ccw
  arc A65 (5.5586, 18.041) -> (5, 17.5444) centre (5.5, 17.5444) ccw
  arc A66 (17.5444, 5) -> (18.041, 5.5586) centre (17.5444, 5.5) ccw
  arc A67 (15.1795, -4.8051) -> (14.7834, -4) centre (14.7834, -4.5) ccw
  arc A68 (10.5, -7.8794) -> (11.2586, -8.3074) centre (11, -7.8794) ccw
  point P0 (5, 18.0957)
  point P1 (18.0957, 5)
  point P2 (15.756, -4)
  point P3 (10.5, -8.7346)
  point P4 (-4, 15.756)
  point P5 (-8.7346, 10.5)
  dimension "d112" = 4.5
  dimension "d113" = 4.5
extrude "Extrusion1" add sketch "Sketch1" along normal blind 3
properties part number "Segment_Med"
